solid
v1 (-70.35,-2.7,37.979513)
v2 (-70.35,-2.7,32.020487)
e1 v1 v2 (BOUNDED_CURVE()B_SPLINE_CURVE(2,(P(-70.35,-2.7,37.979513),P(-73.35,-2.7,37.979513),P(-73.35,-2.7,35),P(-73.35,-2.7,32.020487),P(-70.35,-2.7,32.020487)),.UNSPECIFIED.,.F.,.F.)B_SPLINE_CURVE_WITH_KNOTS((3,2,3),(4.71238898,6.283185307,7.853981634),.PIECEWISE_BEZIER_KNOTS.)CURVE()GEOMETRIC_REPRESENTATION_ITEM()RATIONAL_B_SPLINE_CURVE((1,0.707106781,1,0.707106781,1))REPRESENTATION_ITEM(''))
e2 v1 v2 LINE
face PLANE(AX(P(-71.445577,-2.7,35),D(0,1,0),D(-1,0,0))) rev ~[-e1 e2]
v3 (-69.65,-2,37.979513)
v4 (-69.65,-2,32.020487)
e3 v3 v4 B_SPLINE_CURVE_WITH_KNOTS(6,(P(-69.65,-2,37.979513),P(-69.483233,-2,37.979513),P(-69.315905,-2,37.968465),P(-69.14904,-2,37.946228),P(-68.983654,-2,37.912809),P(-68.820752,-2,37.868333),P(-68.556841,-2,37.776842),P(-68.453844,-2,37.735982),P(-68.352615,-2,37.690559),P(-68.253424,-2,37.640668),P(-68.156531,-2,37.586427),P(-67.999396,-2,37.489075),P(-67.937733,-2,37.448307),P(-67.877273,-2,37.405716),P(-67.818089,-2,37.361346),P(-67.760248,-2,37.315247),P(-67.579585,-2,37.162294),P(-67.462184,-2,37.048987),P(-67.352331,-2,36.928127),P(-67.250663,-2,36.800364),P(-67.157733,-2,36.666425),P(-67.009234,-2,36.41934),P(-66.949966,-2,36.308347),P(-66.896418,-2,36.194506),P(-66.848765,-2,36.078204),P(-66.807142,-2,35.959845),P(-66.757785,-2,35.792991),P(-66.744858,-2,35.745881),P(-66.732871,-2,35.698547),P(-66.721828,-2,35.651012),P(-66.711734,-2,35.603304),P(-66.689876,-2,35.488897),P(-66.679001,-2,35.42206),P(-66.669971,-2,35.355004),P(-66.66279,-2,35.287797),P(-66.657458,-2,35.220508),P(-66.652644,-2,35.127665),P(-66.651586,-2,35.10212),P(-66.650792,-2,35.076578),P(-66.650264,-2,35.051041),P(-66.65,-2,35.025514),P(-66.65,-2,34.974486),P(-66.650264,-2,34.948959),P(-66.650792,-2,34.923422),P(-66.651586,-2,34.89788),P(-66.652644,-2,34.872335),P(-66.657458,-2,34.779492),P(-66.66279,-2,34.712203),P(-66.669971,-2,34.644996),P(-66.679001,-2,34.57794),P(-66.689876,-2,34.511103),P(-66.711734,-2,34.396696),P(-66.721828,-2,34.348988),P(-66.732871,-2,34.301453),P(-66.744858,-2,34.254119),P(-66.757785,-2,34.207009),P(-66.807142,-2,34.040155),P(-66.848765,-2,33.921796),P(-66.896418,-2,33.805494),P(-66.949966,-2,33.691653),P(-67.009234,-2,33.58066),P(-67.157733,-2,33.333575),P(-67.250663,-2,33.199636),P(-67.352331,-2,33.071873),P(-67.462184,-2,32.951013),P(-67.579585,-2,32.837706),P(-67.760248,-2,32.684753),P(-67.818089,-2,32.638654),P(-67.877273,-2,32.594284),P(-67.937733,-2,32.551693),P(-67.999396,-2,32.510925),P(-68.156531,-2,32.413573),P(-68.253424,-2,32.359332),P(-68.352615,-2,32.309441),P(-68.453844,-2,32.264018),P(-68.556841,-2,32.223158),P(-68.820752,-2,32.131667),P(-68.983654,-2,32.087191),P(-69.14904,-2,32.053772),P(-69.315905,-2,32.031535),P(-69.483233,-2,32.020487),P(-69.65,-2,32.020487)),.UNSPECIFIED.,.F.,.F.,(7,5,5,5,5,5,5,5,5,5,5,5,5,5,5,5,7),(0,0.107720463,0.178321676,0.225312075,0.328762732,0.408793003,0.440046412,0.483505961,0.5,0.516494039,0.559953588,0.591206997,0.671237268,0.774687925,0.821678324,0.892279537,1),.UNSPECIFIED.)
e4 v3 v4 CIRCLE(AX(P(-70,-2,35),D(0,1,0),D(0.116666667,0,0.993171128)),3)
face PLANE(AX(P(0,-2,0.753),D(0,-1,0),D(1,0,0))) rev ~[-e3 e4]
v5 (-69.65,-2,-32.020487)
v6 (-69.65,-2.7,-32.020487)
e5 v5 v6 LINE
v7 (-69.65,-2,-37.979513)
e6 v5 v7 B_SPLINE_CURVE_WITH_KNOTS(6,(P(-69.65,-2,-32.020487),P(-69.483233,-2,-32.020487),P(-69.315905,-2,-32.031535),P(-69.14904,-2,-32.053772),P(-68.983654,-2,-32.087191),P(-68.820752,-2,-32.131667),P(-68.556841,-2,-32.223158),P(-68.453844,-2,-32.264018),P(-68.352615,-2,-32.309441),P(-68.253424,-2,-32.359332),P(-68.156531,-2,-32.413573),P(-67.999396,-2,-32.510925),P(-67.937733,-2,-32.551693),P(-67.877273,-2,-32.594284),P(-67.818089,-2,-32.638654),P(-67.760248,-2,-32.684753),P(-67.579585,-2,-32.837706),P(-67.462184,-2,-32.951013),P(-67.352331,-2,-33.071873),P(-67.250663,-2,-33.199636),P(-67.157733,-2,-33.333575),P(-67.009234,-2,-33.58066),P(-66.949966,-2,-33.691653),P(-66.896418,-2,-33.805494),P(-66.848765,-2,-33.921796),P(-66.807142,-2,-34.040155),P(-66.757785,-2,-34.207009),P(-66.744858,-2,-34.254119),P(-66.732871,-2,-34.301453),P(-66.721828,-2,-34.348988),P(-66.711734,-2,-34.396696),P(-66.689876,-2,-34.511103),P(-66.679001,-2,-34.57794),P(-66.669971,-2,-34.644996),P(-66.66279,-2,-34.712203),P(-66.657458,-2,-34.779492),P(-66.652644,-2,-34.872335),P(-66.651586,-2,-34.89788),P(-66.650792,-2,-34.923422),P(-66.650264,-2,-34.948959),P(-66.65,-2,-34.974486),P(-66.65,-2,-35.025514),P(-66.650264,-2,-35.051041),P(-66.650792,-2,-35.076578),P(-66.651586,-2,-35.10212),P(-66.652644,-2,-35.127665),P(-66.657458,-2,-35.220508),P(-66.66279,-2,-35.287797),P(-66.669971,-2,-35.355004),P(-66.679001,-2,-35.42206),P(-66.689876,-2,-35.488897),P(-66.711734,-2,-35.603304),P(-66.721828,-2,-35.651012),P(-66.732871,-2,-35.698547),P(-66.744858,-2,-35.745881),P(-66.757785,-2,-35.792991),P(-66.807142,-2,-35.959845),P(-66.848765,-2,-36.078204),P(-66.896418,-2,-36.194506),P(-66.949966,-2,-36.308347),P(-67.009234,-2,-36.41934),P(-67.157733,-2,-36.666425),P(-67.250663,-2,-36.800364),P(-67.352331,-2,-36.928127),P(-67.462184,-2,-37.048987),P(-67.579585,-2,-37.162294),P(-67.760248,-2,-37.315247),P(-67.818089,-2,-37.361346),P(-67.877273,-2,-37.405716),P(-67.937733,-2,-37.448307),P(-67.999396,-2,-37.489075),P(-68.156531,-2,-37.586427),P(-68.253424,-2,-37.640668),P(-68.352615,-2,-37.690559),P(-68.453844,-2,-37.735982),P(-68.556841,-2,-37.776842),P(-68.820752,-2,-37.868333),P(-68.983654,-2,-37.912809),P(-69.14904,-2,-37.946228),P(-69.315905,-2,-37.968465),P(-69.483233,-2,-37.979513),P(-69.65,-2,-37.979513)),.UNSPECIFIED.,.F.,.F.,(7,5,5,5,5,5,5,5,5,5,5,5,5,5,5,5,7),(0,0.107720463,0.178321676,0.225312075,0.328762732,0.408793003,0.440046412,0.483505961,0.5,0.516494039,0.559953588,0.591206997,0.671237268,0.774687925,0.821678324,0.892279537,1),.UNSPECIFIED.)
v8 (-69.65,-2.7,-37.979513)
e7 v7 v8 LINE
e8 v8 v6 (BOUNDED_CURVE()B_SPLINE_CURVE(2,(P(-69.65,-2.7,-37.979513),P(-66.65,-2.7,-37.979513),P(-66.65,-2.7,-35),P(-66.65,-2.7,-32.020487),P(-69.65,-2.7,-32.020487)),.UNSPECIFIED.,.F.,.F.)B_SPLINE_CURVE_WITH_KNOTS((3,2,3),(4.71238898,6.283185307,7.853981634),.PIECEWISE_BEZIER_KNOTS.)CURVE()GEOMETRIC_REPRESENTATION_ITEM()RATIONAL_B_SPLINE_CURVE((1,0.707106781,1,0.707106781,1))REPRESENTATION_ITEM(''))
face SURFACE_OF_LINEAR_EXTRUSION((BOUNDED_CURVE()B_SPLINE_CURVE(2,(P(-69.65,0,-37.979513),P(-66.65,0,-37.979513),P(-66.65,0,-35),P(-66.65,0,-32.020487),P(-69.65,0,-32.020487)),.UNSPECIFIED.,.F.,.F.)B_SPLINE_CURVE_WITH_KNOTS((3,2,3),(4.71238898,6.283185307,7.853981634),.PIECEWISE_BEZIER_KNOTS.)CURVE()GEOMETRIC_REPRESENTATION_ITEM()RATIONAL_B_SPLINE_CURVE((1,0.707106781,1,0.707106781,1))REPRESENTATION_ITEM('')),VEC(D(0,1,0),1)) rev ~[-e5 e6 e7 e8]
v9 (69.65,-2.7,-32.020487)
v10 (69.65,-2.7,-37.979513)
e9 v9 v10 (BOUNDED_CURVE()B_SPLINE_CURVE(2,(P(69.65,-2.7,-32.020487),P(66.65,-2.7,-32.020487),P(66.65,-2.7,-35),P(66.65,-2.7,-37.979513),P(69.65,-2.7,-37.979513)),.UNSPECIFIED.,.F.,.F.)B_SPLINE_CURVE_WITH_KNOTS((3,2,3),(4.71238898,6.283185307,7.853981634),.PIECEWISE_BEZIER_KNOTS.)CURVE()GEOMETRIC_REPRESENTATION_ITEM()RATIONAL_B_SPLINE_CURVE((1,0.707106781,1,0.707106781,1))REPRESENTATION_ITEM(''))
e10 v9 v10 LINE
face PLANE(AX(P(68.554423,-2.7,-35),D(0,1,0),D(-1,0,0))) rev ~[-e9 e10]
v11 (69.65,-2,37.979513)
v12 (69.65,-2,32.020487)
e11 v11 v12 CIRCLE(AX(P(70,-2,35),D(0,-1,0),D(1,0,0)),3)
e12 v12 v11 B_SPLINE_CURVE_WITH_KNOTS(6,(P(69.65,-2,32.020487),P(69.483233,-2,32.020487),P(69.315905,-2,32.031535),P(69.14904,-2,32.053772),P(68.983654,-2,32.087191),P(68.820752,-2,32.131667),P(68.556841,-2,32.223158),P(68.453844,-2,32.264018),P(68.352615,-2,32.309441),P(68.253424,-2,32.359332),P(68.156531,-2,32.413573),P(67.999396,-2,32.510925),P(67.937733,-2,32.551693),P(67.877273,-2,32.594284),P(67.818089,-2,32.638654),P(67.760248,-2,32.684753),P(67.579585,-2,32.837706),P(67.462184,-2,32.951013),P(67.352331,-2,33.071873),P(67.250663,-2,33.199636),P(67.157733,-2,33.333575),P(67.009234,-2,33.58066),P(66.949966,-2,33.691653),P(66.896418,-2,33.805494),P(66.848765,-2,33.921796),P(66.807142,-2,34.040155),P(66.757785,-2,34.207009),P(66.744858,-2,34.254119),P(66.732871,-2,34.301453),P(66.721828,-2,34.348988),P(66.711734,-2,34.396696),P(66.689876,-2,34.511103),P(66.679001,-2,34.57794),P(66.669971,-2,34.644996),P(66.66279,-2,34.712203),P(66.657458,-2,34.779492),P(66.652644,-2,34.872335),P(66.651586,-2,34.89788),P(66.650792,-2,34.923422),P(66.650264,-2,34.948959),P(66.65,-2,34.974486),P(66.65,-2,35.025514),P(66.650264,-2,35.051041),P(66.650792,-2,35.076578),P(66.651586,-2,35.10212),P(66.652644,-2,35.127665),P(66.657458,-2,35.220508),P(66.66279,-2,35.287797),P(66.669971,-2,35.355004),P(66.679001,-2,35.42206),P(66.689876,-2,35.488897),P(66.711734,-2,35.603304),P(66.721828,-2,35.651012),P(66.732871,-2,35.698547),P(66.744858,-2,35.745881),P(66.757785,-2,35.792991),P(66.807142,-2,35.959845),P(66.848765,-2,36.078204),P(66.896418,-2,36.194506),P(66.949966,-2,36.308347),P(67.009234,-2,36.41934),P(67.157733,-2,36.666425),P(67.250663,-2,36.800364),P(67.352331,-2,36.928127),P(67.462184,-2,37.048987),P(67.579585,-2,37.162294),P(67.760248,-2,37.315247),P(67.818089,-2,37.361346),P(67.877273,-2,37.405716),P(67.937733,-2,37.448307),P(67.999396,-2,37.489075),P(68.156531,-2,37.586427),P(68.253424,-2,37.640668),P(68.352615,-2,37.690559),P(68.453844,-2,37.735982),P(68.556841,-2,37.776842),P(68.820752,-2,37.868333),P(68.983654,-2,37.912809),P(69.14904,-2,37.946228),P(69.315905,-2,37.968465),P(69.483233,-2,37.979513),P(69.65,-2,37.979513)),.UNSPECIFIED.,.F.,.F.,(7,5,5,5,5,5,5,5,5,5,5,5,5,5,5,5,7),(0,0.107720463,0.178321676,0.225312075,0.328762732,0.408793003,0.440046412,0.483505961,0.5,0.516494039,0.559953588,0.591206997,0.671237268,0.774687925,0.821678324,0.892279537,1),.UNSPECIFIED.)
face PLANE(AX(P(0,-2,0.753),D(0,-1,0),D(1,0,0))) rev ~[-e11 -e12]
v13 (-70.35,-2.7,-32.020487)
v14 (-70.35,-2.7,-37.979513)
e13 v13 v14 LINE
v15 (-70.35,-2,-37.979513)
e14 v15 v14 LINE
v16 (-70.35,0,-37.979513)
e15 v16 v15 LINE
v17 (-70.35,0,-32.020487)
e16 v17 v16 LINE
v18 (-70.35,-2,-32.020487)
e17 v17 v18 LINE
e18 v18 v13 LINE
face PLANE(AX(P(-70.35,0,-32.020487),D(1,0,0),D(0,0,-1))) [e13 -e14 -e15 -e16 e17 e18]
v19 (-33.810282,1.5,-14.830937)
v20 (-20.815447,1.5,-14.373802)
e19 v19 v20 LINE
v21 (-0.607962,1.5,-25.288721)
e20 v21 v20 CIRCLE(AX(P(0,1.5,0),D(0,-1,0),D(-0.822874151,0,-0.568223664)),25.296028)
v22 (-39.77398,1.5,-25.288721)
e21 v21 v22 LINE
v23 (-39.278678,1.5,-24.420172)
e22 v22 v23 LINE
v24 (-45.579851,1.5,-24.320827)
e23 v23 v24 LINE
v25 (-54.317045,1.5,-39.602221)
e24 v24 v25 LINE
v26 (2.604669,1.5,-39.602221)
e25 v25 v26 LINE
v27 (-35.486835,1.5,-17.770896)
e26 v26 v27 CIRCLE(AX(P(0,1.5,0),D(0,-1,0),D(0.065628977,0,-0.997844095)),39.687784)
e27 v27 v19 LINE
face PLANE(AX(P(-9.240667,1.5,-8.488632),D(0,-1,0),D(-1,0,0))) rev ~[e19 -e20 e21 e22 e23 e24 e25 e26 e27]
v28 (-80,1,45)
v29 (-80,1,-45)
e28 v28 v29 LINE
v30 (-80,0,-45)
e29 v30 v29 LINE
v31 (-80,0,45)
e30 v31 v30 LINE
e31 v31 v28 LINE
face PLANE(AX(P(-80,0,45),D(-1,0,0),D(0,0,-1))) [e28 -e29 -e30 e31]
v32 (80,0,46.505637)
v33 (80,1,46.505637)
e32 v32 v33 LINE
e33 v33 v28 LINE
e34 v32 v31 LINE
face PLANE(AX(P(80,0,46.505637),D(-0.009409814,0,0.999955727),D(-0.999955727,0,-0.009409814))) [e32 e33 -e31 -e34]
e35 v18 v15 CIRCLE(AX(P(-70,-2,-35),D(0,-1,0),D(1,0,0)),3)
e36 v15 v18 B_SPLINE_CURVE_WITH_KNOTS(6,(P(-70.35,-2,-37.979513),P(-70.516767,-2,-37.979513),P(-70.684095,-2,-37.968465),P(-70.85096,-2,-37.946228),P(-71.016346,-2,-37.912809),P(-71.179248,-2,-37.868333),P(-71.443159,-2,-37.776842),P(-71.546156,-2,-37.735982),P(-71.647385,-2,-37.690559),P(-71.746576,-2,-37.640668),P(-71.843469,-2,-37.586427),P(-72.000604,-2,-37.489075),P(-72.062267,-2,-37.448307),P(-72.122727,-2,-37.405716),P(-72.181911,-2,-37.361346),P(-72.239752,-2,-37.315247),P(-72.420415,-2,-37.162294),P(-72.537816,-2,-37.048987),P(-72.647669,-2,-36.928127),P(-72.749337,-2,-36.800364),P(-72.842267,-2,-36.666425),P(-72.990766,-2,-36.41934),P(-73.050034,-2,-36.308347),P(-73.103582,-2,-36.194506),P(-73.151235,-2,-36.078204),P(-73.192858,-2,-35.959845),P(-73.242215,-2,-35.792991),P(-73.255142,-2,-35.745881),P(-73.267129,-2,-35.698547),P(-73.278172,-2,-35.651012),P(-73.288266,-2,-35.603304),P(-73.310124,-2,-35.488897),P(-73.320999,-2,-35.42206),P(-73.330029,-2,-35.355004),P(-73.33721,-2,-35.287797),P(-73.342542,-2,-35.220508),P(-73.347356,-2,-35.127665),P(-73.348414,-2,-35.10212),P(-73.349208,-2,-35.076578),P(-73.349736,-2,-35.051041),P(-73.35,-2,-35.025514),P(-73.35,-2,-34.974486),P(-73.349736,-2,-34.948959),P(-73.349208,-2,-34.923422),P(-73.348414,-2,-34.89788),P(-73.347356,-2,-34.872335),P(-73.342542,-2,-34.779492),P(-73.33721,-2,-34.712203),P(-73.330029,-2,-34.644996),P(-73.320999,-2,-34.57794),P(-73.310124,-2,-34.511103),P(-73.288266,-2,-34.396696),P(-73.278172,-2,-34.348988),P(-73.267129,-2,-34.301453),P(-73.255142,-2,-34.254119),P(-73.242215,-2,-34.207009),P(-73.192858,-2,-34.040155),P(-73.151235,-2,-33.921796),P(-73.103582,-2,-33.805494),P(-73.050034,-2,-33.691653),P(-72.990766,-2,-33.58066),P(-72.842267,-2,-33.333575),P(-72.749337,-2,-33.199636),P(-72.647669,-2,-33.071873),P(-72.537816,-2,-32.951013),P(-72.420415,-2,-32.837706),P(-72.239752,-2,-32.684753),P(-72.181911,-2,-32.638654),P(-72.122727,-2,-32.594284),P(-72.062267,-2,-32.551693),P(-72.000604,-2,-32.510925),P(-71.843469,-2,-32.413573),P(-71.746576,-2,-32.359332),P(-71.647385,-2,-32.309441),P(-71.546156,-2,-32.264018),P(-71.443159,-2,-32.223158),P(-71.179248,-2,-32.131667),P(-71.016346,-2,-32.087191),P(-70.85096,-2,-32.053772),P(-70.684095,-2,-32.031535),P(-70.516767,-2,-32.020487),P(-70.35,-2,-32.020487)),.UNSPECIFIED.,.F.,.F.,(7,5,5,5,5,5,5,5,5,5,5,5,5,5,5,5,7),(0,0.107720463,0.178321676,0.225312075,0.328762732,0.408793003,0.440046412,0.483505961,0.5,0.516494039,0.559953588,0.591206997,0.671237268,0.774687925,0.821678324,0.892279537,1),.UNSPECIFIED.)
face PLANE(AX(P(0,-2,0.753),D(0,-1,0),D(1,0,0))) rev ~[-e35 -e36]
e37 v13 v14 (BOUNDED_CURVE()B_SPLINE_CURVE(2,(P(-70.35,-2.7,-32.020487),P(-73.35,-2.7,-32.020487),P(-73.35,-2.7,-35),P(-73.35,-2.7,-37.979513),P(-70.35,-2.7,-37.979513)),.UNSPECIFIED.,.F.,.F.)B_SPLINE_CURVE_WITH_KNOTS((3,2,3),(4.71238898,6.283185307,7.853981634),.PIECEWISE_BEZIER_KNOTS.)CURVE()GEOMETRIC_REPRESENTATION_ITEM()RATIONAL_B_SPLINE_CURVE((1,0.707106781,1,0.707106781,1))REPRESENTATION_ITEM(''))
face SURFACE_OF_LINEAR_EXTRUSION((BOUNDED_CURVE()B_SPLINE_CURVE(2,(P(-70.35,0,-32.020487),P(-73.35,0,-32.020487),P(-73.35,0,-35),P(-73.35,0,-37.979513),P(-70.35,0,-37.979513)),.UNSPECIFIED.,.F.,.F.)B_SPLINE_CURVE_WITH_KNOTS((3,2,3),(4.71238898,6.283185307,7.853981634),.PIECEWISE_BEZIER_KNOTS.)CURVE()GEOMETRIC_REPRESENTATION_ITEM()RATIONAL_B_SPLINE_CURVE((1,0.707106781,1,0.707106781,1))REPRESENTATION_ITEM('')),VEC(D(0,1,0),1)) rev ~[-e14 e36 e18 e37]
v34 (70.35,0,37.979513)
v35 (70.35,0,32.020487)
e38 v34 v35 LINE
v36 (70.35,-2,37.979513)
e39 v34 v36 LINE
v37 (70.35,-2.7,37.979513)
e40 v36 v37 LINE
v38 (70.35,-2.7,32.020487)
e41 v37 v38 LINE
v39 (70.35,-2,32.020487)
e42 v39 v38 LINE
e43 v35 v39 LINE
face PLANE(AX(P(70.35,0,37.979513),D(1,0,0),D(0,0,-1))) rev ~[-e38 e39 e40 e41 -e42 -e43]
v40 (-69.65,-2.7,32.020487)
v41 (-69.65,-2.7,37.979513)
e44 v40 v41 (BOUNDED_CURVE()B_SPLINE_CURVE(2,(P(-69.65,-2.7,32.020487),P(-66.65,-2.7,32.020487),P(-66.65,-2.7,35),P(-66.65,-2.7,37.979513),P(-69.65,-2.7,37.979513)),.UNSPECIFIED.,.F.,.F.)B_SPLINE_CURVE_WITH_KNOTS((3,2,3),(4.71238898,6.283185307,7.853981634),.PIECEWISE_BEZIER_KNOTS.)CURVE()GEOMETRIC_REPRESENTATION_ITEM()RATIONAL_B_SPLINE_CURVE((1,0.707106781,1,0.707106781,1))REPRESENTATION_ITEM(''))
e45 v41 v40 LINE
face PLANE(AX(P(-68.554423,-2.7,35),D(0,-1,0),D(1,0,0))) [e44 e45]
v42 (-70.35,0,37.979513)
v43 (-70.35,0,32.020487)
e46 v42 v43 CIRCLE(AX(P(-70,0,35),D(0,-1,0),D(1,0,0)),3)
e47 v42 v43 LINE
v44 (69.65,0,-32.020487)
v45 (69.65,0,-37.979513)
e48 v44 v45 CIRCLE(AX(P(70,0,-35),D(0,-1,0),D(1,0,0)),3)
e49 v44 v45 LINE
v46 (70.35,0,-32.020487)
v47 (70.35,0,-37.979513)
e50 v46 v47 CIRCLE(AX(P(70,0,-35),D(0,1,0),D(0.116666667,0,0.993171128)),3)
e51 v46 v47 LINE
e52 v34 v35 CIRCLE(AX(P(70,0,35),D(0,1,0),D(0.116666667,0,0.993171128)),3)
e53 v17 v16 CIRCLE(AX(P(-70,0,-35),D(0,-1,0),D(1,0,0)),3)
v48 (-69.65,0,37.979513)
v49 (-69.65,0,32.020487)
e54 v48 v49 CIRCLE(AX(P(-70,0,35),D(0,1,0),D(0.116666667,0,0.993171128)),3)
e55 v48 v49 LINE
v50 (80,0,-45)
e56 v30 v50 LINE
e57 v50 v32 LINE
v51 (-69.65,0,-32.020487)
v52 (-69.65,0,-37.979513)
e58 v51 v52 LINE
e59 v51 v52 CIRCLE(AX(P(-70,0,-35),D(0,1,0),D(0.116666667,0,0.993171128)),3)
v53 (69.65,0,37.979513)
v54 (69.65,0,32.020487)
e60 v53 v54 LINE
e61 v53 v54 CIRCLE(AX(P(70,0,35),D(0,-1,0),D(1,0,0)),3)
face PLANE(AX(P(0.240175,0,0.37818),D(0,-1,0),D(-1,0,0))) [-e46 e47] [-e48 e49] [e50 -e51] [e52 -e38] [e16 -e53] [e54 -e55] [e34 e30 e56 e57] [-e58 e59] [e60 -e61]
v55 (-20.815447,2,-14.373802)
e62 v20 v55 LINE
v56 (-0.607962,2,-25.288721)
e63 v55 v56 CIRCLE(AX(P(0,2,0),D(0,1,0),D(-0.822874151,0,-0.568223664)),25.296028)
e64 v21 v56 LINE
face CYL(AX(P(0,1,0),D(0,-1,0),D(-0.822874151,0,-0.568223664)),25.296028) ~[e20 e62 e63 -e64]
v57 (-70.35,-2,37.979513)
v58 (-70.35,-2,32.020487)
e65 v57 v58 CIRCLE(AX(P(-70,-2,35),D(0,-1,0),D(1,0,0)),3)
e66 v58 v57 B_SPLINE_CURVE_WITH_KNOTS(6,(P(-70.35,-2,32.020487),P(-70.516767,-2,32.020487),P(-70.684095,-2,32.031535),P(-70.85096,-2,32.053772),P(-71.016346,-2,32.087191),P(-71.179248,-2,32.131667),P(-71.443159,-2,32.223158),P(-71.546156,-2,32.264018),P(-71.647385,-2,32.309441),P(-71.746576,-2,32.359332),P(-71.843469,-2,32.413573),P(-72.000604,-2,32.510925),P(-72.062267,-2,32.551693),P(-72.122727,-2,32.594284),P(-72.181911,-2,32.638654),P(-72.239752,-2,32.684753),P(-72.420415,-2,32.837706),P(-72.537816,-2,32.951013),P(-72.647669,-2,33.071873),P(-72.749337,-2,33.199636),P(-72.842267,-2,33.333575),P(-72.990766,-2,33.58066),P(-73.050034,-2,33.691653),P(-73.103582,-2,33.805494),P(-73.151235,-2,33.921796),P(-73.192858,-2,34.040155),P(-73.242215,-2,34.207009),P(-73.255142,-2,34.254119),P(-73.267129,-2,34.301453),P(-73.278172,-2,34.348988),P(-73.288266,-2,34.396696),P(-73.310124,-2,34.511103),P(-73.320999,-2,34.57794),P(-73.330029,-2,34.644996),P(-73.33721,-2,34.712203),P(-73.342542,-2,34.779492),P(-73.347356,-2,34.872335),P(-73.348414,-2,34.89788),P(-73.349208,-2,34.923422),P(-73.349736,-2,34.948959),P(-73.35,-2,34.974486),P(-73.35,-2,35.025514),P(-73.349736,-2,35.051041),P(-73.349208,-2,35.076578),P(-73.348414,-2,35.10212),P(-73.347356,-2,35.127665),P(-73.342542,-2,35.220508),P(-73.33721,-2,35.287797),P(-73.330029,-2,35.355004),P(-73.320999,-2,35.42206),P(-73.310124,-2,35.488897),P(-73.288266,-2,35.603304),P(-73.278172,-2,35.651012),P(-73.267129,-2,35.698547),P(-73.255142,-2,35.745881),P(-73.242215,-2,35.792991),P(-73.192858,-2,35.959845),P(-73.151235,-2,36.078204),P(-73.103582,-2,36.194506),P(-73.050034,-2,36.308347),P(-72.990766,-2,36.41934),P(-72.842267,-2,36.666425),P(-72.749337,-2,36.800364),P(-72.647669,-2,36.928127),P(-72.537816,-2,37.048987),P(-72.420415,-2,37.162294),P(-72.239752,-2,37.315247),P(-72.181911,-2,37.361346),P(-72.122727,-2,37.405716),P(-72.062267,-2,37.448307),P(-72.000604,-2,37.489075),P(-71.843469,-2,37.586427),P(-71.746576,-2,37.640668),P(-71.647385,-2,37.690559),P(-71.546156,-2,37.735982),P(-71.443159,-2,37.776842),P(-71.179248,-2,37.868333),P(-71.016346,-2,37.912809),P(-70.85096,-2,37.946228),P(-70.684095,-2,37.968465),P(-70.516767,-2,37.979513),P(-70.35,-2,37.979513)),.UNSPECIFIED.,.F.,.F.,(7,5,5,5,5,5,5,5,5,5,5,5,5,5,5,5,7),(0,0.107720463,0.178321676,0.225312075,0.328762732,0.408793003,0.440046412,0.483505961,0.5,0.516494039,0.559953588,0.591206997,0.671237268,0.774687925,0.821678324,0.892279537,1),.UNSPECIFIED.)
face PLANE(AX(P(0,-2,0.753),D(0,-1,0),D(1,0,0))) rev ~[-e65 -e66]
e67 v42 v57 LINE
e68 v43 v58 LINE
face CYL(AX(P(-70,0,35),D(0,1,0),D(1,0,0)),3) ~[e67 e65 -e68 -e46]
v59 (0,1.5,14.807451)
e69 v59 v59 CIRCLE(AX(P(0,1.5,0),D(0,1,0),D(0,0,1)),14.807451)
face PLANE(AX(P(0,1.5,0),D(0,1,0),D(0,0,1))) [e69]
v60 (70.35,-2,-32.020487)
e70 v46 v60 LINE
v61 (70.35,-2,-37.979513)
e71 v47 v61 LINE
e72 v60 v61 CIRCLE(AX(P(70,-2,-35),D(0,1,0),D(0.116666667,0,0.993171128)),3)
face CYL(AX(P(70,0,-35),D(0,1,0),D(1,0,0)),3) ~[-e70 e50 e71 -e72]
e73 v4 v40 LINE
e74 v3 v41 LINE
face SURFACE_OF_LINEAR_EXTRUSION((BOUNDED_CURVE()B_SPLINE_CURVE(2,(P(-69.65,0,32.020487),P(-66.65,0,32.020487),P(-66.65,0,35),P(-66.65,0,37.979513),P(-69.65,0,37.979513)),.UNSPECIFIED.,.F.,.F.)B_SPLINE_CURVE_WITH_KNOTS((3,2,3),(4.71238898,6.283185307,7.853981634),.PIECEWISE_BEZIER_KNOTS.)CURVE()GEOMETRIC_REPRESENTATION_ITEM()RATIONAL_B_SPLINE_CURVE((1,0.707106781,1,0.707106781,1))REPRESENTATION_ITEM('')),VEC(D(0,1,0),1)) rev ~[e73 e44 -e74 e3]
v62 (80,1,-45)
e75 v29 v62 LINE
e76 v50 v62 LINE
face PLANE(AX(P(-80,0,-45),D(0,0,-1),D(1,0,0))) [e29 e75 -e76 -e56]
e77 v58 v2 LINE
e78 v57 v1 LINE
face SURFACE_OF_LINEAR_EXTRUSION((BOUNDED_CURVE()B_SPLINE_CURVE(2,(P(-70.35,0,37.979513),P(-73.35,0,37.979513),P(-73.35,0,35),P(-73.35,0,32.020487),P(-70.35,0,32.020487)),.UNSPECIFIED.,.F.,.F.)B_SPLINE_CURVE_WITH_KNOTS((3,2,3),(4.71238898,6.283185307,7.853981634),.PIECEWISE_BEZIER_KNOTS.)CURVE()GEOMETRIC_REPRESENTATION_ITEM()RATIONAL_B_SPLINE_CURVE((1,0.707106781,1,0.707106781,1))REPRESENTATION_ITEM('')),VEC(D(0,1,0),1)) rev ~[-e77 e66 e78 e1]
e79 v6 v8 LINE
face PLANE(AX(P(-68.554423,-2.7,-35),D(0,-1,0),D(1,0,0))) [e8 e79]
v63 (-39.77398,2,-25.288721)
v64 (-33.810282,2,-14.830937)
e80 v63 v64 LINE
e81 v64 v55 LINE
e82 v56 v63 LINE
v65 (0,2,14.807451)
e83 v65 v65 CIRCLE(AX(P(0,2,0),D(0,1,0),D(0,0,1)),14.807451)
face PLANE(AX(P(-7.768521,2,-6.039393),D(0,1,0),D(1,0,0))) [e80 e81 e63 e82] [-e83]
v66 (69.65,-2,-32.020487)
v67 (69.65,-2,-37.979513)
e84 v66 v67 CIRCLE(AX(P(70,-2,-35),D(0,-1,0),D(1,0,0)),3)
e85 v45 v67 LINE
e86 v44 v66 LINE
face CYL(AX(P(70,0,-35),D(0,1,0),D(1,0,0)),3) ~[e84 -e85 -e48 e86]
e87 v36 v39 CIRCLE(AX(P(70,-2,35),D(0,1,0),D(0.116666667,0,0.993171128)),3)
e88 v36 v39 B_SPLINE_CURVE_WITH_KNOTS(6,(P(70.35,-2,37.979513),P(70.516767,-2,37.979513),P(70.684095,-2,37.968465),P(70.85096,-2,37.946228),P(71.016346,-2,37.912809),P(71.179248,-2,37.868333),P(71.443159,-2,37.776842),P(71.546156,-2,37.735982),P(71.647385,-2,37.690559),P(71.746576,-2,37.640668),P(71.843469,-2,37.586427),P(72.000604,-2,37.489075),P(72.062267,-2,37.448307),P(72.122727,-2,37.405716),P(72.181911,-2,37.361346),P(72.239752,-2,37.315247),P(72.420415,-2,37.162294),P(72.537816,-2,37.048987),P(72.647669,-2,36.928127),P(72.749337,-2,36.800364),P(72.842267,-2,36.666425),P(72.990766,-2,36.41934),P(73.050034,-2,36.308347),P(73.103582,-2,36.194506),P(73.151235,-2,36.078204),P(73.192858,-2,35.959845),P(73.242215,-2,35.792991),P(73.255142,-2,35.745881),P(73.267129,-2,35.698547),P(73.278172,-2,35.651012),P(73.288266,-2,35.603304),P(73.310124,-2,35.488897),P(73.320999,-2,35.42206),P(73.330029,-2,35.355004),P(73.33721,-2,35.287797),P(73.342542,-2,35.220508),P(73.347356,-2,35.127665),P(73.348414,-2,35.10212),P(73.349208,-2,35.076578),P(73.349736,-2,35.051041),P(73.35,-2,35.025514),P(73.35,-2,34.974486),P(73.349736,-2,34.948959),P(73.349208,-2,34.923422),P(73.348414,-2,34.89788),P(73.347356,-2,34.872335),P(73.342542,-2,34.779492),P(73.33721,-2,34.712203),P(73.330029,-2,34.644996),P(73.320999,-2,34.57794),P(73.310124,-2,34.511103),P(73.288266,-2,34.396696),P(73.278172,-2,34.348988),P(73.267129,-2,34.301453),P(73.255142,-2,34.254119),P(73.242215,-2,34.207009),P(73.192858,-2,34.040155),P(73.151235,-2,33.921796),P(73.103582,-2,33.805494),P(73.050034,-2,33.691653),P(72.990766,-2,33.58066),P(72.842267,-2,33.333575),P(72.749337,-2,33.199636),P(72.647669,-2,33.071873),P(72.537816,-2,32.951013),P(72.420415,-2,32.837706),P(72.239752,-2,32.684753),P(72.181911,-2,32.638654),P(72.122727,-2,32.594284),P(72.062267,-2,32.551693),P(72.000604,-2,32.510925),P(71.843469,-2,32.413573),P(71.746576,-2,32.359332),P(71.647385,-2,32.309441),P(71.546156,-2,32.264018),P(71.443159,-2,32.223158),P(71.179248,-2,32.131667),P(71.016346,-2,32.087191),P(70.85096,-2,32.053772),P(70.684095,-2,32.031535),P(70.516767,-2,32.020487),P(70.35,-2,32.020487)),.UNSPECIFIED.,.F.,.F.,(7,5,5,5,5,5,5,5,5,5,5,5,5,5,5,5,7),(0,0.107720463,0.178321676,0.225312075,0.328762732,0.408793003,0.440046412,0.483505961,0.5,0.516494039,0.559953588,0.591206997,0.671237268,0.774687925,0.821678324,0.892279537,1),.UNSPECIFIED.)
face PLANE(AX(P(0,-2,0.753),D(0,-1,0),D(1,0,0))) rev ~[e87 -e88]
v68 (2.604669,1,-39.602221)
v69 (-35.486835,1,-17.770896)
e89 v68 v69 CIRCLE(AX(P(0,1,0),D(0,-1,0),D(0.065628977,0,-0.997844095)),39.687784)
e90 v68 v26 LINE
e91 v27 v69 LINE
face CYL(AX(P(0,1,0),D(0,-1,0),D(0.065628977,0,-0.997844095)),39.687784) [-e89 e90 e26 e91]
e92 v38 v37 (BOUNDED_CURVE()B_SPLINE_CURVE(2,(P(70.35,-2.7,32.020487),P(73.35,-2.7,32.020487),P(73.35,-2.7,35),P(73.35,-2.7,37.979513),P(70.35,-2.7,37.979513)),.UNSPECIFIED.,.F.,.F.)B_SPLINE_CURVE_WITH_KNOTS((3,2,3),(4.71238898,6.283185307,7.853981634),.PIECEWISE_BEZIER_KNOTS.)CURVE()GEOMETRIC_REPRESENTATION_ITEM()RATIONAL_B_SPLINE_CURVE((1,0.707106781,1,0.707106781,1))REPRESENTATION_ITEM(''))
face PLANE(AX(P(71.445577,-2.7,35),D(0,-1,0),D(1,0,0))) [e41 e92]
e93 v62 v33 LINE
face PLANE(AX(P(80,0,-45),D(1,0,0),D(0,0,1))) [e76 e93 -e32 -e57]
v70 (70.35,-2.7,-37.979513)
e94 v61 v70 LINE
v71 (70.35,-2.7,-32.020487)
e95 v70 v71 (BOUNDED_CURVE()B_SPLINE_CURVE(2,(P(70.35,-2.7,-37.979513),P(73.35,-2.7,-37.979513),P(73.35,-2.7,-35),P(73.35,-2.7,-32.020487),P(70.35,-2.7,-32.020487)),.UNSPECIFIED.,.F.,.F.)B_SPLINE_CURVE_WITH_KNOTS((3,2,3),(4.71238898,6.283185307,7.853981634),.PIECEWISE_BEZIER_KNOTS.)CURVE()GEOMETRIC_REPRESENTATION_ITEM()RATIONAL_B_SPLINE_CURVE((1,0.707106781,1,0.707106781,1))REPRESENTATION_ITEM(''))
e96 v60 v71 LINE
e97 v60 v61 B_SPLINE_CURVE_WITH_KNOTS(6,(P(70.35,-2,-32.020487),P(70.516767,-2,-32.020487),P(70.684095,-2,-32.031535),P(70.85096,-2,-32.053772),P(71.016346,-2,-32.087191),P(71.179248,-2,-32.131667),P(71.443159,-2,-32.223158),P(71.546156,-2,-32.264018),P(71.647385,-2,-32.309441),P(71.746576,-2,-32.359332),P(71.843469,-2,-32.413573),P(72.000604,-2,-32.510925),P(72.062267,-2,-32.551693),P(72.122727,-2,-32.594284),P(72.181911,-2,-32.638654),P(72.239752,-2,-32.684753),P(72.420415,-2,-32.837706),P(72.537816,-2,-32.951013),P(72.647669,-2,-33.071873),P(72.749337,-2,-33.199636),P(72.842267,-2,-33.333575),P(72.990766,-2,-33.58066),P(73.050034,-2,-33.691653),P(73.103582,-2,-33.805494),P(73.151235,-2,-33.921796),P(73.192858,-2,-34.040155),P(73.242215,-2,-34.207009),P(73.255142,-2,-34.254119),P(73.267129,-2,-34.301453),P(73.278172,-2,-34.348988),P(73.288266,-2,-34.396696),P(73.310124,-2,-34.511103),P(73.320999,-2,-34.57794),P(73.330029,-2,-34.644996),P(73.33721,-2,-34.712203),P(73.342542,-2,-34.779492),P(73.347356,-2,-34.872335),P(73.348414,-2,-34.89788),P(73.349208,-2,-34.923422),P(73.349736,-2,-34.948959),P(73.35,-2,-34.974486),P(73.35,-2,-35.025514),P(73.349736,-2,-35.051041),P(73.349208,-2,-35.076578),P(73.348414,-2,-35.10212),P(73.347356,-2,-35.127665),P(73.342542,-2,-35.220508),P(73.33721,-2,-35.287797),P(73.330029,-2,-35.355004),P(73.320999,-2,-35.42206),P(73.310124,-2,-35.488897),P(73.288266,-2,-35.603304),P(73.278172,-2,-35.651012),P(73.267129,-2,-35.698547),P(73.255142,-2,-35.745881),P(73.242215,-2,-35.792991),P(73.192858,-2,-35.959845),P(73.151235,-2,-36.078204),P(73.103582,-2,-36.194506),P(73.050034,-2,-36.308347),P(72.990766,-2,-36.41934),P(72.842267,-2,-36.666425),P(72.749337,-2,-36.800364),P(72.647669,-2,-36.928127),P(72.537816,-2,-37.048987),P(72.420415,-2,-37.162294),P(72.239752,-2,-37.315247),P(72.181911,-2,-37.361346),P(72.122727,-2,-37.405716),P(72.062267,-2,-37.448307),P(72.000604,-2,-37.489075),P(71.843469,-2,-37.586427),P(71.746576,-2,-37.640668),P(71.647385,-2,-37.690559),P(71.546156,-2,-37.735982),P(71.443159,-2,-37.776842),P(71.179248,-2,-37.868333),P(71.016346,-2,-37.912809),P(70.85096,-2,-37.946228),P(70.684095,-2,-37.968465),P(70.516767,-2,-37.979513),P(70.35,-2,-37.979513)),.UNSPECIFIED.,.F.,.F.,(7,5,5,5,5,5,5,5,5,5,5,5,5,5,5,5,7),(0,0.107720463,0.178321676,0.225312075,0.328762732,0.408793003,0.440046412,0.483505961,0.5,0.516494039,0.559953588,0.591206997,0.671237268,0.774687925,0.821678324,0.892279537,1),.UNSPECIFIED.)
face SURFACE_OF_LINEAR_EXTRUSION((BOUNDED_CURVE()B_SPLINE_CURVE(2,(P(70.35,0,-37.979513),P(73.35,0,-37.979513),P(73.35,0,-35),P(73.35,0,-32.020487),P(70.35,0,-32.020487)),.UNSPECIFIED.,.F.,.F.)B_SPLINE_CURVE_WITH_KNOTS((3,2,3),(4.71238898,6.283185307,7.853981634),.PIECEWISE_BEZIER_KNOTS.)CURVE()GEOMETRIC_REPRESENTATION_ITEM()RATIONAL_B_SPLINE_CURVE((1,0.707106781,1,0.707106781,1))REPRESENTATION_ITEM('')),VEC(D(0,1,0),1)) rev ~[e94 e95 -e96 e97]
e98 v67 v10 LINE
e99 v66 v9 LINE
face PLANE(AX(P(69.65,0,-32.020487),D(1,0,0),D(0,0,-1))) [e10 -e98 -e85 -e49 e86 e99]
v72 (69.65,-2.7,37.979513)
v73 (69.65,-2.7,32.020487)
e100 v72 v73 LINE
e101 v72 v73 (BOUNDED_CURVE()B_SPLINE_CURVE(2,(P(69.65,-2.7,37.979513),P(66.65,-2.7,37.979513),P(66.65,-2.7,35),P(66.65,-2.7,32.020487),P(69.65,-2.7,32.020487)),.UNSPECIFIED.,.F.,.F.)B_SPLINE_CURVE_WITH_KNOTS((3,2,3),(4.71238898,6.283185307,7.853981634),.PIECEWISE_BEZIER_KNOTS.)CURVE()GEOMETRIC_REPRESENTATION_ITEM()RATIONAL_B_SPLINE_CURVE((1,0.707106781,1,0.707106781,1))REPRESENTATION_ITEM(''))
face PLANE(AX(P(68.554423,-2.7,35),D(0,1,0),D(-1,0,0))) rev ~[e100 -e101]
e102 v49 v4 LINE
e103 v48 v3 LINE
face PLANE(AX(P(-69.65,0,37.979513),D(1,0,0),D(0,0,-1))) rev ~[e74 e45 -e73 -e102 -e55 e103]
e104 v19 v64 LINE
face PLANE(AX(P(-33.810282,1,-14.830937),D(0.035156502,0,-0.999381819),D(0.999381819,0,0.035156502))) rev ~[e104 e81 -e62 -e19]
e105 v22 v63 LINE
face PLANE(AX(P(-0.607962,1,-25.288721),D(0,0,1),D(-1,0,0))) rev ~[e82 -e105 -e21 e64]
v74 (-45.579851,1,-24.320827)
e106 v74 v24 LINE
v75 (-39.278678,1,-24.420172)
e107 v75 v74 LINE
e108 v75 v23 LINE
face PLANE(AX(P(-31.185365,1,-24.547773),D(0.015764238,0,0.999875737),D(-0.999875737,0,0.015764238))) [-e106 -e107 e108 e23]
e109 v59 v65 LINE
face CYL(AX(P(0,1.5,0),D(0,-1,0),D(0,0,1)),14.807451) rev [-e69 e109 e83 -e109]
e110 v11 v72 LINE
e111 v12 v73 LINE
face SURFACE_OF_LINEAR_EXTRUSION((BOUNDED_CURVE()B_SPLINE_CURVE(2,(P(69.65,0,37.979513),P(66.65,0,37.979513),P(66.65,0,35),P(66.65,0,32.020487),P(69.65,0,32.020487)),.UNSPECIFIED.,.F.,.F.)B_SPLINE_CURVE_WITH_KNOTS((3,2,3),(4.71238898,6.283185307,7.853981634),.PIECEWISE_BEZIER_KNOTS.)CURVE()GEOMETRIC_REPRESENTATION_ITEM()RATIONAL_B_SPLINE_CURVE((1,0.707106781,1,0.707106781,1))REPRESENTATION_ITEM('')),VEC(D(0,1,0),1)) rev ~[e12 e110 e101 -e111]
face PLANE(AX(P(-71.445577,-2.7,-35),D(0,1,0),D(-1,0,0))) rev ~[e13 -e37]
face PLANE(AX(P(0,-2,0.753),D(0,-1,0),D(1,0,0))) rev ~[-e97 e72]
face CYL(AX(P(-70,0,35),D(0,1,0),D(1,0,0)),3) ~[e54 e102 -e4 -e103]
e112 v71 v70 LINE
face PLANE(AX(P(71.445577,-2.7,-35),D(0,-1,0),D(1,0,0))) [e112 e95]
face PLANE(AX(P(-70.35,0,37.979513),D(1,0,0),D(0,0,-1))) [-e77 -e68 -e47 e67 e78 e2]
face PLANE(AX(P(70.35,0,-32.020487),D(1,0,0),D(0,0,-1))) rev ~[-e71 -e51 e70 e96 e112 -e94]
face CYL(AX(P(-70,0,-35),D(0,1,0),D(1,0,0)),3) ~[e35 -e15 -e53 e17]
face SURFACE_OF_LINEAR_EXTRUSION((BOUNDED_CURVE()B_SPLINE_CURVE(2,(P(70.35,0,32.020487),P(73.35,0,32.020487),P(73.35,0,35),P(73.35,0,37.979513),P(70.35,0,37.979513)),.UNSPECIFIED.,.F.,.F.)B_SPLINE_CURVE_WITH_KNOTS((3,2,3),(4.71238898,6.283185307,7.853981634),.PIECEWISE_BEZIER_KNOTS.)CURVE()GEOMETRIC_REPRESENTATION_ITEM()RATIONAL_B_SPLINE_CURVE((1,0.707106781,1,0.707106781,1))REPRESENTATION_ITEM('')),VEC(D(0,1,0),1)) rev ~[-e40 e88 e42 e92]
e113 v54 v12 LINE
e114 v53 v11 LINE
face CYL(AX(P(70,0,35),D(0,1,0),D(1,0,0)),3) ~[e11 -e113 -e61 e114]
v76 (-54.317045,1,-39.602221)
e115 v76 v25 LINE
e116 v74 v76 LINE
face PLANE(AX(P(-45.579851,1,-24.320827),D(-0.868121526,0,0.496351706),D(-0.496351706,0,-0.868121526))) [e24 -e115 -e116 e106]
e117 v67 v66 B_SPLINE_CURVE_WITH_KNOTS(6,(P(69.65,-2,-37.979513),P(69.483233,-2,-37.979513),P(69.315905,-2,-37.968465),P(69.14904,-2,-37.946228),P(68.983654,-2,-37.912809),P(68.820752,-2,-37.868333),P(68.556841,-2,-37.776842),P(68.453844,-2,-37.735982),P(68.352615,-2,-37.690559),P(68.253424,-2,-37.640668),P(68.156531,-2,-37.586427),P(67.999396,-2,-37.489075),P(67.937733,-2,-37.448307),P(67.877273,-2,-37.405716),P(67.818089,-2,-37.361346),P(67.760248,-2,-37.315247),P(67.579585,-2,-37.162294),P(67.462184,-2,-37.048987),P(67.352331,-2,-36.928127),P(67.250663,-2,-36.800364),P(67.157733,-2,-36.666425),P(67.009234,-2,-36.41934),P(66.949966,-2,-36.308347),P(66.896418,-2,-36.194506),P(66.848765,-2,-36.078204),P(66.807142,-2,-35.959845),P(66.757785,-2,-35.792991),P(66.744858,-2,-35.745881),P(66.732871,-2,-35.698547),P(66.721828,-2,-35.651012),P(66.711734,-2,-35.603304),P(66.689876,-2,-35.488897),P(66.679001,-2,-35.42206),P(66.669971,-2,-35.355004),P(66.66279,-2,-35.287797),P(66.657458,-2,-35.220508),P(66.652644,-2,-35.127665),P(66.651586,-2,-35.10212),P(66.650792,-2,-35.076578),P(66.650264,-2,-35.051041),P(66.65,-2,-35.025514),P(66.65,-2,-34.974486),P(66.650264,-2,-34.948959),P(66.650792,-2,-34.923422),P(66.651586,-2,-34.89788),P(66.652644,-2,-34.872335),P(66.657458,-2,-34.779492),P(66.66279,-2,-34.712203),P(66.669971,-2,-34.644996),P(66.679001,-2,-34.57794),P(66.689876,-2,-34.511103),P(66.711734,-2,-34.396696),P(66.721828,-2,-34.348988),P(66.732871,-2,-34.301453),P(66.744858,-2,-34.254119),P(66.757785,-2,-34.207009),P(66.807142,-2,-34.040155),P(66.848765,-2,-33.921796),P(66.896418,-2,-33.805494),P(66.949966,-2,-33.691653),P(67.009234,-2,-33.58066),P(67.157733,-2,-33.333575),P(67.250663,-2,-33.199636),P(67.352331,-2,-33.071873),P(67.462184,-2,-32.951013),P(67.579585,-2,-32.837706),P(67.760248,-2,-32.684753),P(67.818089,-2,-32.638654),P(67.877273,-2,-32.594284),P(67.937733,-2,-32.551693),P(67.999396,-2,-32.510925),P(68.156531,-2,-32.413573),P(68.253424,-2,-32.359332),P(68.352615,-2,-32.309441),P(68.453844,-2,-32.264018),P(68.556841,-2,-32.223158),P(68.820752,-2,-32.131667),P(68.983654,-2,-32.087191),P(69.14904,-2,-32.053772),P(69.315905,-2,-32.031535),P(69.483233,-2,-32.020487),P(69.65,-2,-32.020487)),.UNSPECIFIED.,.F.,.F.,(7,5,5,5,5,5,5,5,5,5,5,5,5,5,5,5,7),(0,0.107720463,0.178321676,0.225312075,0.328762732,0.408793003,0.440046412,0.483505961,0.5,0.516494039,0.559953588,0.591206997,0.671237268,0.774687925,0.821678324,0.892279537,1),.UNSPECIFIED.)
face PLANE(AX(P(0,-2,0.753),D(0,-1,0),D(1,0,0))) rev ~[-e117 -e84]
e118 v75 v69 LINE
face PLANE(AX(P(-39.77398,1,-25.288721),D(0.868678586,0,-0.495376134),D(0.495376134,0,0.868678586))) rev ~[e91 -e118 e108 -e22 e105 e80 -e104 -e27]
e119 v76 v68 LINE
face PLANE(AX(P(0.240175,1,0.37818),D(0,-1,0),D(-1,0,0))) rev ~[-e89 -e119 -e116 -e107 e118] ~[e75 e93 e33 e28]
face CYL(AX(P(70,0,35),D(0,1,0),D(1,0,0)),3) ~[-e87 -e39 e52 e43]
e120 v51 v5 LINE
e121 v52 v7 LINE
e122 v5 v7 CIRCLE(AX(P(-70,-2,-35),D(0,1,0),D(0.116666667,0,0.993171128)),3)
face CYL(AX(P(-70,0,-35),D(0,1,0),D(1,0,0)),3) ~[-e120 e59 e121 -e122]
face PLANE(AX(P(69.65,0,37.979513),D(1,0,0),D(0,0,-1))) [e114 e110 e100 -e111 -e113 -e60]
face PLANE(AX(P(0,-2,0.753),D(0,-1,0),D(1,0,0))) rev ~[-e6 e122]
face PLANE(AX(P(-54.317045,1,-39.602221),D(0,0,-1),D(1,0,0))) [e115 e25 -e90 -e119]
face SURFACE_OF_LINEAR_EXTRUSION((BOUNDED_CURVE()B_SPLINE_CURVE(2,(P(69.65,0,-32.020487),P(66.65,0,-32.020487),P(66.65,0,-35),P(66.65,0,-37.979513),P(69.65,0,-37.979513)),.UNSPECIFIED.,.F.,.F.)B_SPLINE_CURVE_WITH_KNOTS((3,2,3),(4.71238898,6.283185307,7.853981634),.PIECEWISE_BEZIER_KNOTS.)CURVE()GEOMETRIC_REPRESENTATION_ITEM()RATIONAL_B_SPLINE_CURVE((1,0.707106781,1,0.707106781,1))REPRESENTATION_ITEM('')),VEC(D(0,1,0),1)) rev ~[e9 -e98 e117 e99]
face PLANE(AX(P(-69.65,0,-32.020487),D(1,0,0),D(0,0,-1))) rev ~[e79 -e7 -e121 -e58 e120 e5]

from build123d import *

# Parameters (mm, degrees)
BOSS_EXTRUDE1_DEPTH = 1
BOSS_EXTRUDE2_DEPTH = 2.7
SKETCH5_OUTSIDE_W   = 198.872
SKETCH5_OUTSIDE_H   = 130.378
SKETCH5_OUTSIDE_R   = 3
CUT_EXTRUDE1_DEPTH  = 2
BOSS_EXTRUDE3_DEPTH = 0.5
BOSS_EXTRUDE4_DEPTH = 1
CUT_EXTRUDE2_START  = 0.5
SKETCH9_R           = 14.807450978
CUT_EXTRUDE2_DEPTH  = 0.5


with BuildPart() as part:
    # Sketch3 → Boss-Extrude1 (new body)
    with BuildSketch(Plane(origin=(0, 0, 0), x_dir=(1, 0, 0), z_dir=(0, 1, 0))):
        Polygon((-80, 45), (80, 45), (80, -46.505636843), (-80, -45), align=None)
    extrude(amount=BOSS_EXTRUDE1_DEPTH)

    # Sketch4 → Boss-Extrude2 (add)
    with BuildSketch(Plane.XZ):
        with BuildLine():
            Line((-70.35, 37.979513383), (-70.35, 32.020486617))
            add(Edge.make_bspline(
                [(-70.35, 37.979513383), (-73.35, 37.979513383), (-73.35, 35), (-73.35, 32.020486617), (-70.35, 32.020486617)],
                knots=[4.71238898, 4.71238898, 4.71238898, 6.283185307, 6.283185307, 7.853981634, 7.853981634, 7.853981634], degree=2, weights=[1, 0.707106781, 1, 0.707106781, 1]))
        make_face()
        with BuildLine():
            Line((-69.65, 37.979513383), (-69.65, 32.020486617))
            add(Edge.make_bspline(
                [(-69.65, 32.020486617), (-66.65, 32.020486617), (-66.65, 35), (-66.65, 37.979513383), (-69.65, 37.979513383)],
                knots=[4.71238898, 4.71238898, 4.71238898, 6.283185307, 6.283185307, 7.853981634, 7.853981634, 7.853981634], degree=2, weights=[1, 0.707106781, 1, 0.707106781, 1]))
        make_face()
        with BuildLine():
            Line((69.65, 37.979513383), (69.65, 32.020486617))
            add(Edge.make_bspline(
                [(69.65, 37.979513383), (66.65, 37.979513383), (66.65, 35), (66.65, 32.020486617), (69.65, 32.020486617)],
                knots=[4.71238898, 4.71238898, 4.71238898, 6.283185307, 6.283185307, 7.853981634, 7.853981634, 7.853981634], degree=2, weights=[1, 0.707106781, 1, 0.707106781, 1]))
        make_face()
        with BuildLine():
            Line((70.35, 37.979513383), (70.35, 32.020486617))
            add(Edge.make_bspline(
                [(70.35, 32.020486617), (73.35, 32.020486617), (73.35, 35), (73.35, 37.979513383), (70.35, 37.979513383)],
                knots=[4.71238898, 4.71238898, 4.71238898, 6.283185307, 6.283185307, 7.853981634, 7.853981634, 7.853981634], degree=2, weights=[1, 0.707106781, 1, 0.707106781, 1]))
        make_face()
        with BuildLine():
            Line((69.65, -32.020486617), (69.65, -37.979513383))
            add(Edge.make_bspline(
                [(69.65, -32.020486617), (66.65, -32.020486617), (66.65, -35), (66.65, -37.979513383), (69.65, -37.979513383)],
                knots=[4.71238898, 4.71238898, 4.71238898, 6.283185307, 6.283185307, 7.853981634, 7.853981634, 7.853981634], degree=2, weights=[1, 0.707106781, 1, 0.707106781, 1]))
        make_face()
        with BuildLine():
            Line((70.35, -32.020486617), (70.35, -37.979513383))
            add(Edge.make_bspline(
                [(70.35, -37.979513383), (73.35, -37.979513383), (73.35, -35), (73.35, -32.020486617), (70.35, -32.020486617)],
                knots=[4.71238898, 4.71238898, 4.71238898, 6.283185307, 6.283185307, 7.853981634, 7.853981634, 7.853981634], degree=2, weights=[1, 0.707106781, 1, 0.707106781, 1]))
        make_face()
        with BuildLine():
            Line((-70.35, -32.020486617), (-70.35, -37.979513383))
            add(Edge.make_bspline(
                [(-70.35, -32.020486617), (-73.35, -32.020486617), (-73.35, -35), (-73.35, -37.979513383), (-70.35, -37.979513383)],
                knots=[4.71238898, 4.71238898, 4.71238898, 6.283185307, 6.283185307, 7.853981634, 7.853981634, 7.853981634], degree=2, weights=[1, 0.707106781, 1, 0.707106781, 1]))
        make_face()
        with BuildLine():
            Line((-69.65, -32.020486617), (-69.65, -37.979513383))
            add(Edge.make_bspline(
                [(-69.65, -37.979513383), (-66.65, -37.979513383), (-66.65, -35), (-66.65, -32.020486617), (-69.65, -32.020486617)],
                knots=[4.71238898, 4.71238898, 4.71238898, 6.283185307, 6.283185307, 7.853981634, 7.853981634, 7.853981634], degree=2, weights=[1, 0.707106781, 1, 0.707106781, 1]))
        make_face()
    extrude(amount=BOSS_EXTRUDE2_DEPTH)

    # Sketch5 outside → Cut-Extrude1 (cut)
    with BuildSketch(Plane.XZ):
        with Locations((0, 0.753)):
            Rectangle(SKETCH5_OUTSIDE_W, SKETCH5_OUTSIDE_H)
        with Locations((-70, 35)):
            Circle(SKETCH5_OUTSIDE_R, mode=Mode.SUBTRACT)
        with Locations((70, 35)):
            Circle(SKETCH5_OUTSIDE_R, mode=Mode.SUBTRACT)
        with Locations((70, -35)):
            Circle(SKETCH5_OUTSIDE_R, mode=Mode.SUBTRACT)
        with Locations((-70, -35)):
            Circle(SKETCH5_OUTSIDE_R, mode=Mode.SUBTRACT)
    extrude(amount=CUT_EXTRUDE1_DEPTH, mode=Mode.SUBTRACT)

    # Sketch7 → Boss-Extrude3 (add)
    with BuildSketch(Plane(origin=(0, 1, 0), x_dir=(1, 0, 0), z_dir=(0, 1, 0))):
        with BuildLine():
            Line((-54.317045104, 39.602220595), (2.604668629, 39.602220595))
            ThreePointArc((2.604668629, 39.602220595), (16.151568109, -36.252545046), (-31.185365289, 24.547773147))
            Line((-31.185365289, 24.547773147), (-45.57985147, 24.320826837))
            Line((-45.57985147, 24.320826837), (-54.317045104, 39.602220595))
        make_face()
    extrude(amount=BOSS_EXTRUDE3_DEPTH)

    # Sketch8 → Boss-Extrude4 (add)
    with BuildSketch(Plane(origin=(0, 1, 0), x_dir=(1, 0, 0), z_dir=(0, 1, 0))):
        with BuildLine():
            Line((-39.773980052, 25.288720826), (-33.810282359, 14.830937097))
            Line((-33.810282359, 14.830937097), (-20.815447328, 14.373801562))
            ThreePointArc((-20.815447328, 14.373801562), (12.021833569, -22.256786301), (-0.607961992, 25.288720826))
            Line((-0.607961992, 25.288720826), (-39.773980052, 25.288720826))
        make_face()
    extrude(amount=BOSS_EXTRUDE4_DEPTH)

    # Sketch9 → Cut-Extrude2 (cut)
    with BuildSketch(Plane(origin=(0, 1, 0), x_dir=(1, 0, 0), z_dir=(0, 1, 0)).offset(CUT_EXTRUDE2_START)):
        with Locations(Location((0, 0, 0), (0, 0, 270))):
            Circle(SKETCH9_R)
    extrude(amount=CUT_EXTRUDE2_DEPTH, mode=Mode.SUBTRACT)


solid = part.part
